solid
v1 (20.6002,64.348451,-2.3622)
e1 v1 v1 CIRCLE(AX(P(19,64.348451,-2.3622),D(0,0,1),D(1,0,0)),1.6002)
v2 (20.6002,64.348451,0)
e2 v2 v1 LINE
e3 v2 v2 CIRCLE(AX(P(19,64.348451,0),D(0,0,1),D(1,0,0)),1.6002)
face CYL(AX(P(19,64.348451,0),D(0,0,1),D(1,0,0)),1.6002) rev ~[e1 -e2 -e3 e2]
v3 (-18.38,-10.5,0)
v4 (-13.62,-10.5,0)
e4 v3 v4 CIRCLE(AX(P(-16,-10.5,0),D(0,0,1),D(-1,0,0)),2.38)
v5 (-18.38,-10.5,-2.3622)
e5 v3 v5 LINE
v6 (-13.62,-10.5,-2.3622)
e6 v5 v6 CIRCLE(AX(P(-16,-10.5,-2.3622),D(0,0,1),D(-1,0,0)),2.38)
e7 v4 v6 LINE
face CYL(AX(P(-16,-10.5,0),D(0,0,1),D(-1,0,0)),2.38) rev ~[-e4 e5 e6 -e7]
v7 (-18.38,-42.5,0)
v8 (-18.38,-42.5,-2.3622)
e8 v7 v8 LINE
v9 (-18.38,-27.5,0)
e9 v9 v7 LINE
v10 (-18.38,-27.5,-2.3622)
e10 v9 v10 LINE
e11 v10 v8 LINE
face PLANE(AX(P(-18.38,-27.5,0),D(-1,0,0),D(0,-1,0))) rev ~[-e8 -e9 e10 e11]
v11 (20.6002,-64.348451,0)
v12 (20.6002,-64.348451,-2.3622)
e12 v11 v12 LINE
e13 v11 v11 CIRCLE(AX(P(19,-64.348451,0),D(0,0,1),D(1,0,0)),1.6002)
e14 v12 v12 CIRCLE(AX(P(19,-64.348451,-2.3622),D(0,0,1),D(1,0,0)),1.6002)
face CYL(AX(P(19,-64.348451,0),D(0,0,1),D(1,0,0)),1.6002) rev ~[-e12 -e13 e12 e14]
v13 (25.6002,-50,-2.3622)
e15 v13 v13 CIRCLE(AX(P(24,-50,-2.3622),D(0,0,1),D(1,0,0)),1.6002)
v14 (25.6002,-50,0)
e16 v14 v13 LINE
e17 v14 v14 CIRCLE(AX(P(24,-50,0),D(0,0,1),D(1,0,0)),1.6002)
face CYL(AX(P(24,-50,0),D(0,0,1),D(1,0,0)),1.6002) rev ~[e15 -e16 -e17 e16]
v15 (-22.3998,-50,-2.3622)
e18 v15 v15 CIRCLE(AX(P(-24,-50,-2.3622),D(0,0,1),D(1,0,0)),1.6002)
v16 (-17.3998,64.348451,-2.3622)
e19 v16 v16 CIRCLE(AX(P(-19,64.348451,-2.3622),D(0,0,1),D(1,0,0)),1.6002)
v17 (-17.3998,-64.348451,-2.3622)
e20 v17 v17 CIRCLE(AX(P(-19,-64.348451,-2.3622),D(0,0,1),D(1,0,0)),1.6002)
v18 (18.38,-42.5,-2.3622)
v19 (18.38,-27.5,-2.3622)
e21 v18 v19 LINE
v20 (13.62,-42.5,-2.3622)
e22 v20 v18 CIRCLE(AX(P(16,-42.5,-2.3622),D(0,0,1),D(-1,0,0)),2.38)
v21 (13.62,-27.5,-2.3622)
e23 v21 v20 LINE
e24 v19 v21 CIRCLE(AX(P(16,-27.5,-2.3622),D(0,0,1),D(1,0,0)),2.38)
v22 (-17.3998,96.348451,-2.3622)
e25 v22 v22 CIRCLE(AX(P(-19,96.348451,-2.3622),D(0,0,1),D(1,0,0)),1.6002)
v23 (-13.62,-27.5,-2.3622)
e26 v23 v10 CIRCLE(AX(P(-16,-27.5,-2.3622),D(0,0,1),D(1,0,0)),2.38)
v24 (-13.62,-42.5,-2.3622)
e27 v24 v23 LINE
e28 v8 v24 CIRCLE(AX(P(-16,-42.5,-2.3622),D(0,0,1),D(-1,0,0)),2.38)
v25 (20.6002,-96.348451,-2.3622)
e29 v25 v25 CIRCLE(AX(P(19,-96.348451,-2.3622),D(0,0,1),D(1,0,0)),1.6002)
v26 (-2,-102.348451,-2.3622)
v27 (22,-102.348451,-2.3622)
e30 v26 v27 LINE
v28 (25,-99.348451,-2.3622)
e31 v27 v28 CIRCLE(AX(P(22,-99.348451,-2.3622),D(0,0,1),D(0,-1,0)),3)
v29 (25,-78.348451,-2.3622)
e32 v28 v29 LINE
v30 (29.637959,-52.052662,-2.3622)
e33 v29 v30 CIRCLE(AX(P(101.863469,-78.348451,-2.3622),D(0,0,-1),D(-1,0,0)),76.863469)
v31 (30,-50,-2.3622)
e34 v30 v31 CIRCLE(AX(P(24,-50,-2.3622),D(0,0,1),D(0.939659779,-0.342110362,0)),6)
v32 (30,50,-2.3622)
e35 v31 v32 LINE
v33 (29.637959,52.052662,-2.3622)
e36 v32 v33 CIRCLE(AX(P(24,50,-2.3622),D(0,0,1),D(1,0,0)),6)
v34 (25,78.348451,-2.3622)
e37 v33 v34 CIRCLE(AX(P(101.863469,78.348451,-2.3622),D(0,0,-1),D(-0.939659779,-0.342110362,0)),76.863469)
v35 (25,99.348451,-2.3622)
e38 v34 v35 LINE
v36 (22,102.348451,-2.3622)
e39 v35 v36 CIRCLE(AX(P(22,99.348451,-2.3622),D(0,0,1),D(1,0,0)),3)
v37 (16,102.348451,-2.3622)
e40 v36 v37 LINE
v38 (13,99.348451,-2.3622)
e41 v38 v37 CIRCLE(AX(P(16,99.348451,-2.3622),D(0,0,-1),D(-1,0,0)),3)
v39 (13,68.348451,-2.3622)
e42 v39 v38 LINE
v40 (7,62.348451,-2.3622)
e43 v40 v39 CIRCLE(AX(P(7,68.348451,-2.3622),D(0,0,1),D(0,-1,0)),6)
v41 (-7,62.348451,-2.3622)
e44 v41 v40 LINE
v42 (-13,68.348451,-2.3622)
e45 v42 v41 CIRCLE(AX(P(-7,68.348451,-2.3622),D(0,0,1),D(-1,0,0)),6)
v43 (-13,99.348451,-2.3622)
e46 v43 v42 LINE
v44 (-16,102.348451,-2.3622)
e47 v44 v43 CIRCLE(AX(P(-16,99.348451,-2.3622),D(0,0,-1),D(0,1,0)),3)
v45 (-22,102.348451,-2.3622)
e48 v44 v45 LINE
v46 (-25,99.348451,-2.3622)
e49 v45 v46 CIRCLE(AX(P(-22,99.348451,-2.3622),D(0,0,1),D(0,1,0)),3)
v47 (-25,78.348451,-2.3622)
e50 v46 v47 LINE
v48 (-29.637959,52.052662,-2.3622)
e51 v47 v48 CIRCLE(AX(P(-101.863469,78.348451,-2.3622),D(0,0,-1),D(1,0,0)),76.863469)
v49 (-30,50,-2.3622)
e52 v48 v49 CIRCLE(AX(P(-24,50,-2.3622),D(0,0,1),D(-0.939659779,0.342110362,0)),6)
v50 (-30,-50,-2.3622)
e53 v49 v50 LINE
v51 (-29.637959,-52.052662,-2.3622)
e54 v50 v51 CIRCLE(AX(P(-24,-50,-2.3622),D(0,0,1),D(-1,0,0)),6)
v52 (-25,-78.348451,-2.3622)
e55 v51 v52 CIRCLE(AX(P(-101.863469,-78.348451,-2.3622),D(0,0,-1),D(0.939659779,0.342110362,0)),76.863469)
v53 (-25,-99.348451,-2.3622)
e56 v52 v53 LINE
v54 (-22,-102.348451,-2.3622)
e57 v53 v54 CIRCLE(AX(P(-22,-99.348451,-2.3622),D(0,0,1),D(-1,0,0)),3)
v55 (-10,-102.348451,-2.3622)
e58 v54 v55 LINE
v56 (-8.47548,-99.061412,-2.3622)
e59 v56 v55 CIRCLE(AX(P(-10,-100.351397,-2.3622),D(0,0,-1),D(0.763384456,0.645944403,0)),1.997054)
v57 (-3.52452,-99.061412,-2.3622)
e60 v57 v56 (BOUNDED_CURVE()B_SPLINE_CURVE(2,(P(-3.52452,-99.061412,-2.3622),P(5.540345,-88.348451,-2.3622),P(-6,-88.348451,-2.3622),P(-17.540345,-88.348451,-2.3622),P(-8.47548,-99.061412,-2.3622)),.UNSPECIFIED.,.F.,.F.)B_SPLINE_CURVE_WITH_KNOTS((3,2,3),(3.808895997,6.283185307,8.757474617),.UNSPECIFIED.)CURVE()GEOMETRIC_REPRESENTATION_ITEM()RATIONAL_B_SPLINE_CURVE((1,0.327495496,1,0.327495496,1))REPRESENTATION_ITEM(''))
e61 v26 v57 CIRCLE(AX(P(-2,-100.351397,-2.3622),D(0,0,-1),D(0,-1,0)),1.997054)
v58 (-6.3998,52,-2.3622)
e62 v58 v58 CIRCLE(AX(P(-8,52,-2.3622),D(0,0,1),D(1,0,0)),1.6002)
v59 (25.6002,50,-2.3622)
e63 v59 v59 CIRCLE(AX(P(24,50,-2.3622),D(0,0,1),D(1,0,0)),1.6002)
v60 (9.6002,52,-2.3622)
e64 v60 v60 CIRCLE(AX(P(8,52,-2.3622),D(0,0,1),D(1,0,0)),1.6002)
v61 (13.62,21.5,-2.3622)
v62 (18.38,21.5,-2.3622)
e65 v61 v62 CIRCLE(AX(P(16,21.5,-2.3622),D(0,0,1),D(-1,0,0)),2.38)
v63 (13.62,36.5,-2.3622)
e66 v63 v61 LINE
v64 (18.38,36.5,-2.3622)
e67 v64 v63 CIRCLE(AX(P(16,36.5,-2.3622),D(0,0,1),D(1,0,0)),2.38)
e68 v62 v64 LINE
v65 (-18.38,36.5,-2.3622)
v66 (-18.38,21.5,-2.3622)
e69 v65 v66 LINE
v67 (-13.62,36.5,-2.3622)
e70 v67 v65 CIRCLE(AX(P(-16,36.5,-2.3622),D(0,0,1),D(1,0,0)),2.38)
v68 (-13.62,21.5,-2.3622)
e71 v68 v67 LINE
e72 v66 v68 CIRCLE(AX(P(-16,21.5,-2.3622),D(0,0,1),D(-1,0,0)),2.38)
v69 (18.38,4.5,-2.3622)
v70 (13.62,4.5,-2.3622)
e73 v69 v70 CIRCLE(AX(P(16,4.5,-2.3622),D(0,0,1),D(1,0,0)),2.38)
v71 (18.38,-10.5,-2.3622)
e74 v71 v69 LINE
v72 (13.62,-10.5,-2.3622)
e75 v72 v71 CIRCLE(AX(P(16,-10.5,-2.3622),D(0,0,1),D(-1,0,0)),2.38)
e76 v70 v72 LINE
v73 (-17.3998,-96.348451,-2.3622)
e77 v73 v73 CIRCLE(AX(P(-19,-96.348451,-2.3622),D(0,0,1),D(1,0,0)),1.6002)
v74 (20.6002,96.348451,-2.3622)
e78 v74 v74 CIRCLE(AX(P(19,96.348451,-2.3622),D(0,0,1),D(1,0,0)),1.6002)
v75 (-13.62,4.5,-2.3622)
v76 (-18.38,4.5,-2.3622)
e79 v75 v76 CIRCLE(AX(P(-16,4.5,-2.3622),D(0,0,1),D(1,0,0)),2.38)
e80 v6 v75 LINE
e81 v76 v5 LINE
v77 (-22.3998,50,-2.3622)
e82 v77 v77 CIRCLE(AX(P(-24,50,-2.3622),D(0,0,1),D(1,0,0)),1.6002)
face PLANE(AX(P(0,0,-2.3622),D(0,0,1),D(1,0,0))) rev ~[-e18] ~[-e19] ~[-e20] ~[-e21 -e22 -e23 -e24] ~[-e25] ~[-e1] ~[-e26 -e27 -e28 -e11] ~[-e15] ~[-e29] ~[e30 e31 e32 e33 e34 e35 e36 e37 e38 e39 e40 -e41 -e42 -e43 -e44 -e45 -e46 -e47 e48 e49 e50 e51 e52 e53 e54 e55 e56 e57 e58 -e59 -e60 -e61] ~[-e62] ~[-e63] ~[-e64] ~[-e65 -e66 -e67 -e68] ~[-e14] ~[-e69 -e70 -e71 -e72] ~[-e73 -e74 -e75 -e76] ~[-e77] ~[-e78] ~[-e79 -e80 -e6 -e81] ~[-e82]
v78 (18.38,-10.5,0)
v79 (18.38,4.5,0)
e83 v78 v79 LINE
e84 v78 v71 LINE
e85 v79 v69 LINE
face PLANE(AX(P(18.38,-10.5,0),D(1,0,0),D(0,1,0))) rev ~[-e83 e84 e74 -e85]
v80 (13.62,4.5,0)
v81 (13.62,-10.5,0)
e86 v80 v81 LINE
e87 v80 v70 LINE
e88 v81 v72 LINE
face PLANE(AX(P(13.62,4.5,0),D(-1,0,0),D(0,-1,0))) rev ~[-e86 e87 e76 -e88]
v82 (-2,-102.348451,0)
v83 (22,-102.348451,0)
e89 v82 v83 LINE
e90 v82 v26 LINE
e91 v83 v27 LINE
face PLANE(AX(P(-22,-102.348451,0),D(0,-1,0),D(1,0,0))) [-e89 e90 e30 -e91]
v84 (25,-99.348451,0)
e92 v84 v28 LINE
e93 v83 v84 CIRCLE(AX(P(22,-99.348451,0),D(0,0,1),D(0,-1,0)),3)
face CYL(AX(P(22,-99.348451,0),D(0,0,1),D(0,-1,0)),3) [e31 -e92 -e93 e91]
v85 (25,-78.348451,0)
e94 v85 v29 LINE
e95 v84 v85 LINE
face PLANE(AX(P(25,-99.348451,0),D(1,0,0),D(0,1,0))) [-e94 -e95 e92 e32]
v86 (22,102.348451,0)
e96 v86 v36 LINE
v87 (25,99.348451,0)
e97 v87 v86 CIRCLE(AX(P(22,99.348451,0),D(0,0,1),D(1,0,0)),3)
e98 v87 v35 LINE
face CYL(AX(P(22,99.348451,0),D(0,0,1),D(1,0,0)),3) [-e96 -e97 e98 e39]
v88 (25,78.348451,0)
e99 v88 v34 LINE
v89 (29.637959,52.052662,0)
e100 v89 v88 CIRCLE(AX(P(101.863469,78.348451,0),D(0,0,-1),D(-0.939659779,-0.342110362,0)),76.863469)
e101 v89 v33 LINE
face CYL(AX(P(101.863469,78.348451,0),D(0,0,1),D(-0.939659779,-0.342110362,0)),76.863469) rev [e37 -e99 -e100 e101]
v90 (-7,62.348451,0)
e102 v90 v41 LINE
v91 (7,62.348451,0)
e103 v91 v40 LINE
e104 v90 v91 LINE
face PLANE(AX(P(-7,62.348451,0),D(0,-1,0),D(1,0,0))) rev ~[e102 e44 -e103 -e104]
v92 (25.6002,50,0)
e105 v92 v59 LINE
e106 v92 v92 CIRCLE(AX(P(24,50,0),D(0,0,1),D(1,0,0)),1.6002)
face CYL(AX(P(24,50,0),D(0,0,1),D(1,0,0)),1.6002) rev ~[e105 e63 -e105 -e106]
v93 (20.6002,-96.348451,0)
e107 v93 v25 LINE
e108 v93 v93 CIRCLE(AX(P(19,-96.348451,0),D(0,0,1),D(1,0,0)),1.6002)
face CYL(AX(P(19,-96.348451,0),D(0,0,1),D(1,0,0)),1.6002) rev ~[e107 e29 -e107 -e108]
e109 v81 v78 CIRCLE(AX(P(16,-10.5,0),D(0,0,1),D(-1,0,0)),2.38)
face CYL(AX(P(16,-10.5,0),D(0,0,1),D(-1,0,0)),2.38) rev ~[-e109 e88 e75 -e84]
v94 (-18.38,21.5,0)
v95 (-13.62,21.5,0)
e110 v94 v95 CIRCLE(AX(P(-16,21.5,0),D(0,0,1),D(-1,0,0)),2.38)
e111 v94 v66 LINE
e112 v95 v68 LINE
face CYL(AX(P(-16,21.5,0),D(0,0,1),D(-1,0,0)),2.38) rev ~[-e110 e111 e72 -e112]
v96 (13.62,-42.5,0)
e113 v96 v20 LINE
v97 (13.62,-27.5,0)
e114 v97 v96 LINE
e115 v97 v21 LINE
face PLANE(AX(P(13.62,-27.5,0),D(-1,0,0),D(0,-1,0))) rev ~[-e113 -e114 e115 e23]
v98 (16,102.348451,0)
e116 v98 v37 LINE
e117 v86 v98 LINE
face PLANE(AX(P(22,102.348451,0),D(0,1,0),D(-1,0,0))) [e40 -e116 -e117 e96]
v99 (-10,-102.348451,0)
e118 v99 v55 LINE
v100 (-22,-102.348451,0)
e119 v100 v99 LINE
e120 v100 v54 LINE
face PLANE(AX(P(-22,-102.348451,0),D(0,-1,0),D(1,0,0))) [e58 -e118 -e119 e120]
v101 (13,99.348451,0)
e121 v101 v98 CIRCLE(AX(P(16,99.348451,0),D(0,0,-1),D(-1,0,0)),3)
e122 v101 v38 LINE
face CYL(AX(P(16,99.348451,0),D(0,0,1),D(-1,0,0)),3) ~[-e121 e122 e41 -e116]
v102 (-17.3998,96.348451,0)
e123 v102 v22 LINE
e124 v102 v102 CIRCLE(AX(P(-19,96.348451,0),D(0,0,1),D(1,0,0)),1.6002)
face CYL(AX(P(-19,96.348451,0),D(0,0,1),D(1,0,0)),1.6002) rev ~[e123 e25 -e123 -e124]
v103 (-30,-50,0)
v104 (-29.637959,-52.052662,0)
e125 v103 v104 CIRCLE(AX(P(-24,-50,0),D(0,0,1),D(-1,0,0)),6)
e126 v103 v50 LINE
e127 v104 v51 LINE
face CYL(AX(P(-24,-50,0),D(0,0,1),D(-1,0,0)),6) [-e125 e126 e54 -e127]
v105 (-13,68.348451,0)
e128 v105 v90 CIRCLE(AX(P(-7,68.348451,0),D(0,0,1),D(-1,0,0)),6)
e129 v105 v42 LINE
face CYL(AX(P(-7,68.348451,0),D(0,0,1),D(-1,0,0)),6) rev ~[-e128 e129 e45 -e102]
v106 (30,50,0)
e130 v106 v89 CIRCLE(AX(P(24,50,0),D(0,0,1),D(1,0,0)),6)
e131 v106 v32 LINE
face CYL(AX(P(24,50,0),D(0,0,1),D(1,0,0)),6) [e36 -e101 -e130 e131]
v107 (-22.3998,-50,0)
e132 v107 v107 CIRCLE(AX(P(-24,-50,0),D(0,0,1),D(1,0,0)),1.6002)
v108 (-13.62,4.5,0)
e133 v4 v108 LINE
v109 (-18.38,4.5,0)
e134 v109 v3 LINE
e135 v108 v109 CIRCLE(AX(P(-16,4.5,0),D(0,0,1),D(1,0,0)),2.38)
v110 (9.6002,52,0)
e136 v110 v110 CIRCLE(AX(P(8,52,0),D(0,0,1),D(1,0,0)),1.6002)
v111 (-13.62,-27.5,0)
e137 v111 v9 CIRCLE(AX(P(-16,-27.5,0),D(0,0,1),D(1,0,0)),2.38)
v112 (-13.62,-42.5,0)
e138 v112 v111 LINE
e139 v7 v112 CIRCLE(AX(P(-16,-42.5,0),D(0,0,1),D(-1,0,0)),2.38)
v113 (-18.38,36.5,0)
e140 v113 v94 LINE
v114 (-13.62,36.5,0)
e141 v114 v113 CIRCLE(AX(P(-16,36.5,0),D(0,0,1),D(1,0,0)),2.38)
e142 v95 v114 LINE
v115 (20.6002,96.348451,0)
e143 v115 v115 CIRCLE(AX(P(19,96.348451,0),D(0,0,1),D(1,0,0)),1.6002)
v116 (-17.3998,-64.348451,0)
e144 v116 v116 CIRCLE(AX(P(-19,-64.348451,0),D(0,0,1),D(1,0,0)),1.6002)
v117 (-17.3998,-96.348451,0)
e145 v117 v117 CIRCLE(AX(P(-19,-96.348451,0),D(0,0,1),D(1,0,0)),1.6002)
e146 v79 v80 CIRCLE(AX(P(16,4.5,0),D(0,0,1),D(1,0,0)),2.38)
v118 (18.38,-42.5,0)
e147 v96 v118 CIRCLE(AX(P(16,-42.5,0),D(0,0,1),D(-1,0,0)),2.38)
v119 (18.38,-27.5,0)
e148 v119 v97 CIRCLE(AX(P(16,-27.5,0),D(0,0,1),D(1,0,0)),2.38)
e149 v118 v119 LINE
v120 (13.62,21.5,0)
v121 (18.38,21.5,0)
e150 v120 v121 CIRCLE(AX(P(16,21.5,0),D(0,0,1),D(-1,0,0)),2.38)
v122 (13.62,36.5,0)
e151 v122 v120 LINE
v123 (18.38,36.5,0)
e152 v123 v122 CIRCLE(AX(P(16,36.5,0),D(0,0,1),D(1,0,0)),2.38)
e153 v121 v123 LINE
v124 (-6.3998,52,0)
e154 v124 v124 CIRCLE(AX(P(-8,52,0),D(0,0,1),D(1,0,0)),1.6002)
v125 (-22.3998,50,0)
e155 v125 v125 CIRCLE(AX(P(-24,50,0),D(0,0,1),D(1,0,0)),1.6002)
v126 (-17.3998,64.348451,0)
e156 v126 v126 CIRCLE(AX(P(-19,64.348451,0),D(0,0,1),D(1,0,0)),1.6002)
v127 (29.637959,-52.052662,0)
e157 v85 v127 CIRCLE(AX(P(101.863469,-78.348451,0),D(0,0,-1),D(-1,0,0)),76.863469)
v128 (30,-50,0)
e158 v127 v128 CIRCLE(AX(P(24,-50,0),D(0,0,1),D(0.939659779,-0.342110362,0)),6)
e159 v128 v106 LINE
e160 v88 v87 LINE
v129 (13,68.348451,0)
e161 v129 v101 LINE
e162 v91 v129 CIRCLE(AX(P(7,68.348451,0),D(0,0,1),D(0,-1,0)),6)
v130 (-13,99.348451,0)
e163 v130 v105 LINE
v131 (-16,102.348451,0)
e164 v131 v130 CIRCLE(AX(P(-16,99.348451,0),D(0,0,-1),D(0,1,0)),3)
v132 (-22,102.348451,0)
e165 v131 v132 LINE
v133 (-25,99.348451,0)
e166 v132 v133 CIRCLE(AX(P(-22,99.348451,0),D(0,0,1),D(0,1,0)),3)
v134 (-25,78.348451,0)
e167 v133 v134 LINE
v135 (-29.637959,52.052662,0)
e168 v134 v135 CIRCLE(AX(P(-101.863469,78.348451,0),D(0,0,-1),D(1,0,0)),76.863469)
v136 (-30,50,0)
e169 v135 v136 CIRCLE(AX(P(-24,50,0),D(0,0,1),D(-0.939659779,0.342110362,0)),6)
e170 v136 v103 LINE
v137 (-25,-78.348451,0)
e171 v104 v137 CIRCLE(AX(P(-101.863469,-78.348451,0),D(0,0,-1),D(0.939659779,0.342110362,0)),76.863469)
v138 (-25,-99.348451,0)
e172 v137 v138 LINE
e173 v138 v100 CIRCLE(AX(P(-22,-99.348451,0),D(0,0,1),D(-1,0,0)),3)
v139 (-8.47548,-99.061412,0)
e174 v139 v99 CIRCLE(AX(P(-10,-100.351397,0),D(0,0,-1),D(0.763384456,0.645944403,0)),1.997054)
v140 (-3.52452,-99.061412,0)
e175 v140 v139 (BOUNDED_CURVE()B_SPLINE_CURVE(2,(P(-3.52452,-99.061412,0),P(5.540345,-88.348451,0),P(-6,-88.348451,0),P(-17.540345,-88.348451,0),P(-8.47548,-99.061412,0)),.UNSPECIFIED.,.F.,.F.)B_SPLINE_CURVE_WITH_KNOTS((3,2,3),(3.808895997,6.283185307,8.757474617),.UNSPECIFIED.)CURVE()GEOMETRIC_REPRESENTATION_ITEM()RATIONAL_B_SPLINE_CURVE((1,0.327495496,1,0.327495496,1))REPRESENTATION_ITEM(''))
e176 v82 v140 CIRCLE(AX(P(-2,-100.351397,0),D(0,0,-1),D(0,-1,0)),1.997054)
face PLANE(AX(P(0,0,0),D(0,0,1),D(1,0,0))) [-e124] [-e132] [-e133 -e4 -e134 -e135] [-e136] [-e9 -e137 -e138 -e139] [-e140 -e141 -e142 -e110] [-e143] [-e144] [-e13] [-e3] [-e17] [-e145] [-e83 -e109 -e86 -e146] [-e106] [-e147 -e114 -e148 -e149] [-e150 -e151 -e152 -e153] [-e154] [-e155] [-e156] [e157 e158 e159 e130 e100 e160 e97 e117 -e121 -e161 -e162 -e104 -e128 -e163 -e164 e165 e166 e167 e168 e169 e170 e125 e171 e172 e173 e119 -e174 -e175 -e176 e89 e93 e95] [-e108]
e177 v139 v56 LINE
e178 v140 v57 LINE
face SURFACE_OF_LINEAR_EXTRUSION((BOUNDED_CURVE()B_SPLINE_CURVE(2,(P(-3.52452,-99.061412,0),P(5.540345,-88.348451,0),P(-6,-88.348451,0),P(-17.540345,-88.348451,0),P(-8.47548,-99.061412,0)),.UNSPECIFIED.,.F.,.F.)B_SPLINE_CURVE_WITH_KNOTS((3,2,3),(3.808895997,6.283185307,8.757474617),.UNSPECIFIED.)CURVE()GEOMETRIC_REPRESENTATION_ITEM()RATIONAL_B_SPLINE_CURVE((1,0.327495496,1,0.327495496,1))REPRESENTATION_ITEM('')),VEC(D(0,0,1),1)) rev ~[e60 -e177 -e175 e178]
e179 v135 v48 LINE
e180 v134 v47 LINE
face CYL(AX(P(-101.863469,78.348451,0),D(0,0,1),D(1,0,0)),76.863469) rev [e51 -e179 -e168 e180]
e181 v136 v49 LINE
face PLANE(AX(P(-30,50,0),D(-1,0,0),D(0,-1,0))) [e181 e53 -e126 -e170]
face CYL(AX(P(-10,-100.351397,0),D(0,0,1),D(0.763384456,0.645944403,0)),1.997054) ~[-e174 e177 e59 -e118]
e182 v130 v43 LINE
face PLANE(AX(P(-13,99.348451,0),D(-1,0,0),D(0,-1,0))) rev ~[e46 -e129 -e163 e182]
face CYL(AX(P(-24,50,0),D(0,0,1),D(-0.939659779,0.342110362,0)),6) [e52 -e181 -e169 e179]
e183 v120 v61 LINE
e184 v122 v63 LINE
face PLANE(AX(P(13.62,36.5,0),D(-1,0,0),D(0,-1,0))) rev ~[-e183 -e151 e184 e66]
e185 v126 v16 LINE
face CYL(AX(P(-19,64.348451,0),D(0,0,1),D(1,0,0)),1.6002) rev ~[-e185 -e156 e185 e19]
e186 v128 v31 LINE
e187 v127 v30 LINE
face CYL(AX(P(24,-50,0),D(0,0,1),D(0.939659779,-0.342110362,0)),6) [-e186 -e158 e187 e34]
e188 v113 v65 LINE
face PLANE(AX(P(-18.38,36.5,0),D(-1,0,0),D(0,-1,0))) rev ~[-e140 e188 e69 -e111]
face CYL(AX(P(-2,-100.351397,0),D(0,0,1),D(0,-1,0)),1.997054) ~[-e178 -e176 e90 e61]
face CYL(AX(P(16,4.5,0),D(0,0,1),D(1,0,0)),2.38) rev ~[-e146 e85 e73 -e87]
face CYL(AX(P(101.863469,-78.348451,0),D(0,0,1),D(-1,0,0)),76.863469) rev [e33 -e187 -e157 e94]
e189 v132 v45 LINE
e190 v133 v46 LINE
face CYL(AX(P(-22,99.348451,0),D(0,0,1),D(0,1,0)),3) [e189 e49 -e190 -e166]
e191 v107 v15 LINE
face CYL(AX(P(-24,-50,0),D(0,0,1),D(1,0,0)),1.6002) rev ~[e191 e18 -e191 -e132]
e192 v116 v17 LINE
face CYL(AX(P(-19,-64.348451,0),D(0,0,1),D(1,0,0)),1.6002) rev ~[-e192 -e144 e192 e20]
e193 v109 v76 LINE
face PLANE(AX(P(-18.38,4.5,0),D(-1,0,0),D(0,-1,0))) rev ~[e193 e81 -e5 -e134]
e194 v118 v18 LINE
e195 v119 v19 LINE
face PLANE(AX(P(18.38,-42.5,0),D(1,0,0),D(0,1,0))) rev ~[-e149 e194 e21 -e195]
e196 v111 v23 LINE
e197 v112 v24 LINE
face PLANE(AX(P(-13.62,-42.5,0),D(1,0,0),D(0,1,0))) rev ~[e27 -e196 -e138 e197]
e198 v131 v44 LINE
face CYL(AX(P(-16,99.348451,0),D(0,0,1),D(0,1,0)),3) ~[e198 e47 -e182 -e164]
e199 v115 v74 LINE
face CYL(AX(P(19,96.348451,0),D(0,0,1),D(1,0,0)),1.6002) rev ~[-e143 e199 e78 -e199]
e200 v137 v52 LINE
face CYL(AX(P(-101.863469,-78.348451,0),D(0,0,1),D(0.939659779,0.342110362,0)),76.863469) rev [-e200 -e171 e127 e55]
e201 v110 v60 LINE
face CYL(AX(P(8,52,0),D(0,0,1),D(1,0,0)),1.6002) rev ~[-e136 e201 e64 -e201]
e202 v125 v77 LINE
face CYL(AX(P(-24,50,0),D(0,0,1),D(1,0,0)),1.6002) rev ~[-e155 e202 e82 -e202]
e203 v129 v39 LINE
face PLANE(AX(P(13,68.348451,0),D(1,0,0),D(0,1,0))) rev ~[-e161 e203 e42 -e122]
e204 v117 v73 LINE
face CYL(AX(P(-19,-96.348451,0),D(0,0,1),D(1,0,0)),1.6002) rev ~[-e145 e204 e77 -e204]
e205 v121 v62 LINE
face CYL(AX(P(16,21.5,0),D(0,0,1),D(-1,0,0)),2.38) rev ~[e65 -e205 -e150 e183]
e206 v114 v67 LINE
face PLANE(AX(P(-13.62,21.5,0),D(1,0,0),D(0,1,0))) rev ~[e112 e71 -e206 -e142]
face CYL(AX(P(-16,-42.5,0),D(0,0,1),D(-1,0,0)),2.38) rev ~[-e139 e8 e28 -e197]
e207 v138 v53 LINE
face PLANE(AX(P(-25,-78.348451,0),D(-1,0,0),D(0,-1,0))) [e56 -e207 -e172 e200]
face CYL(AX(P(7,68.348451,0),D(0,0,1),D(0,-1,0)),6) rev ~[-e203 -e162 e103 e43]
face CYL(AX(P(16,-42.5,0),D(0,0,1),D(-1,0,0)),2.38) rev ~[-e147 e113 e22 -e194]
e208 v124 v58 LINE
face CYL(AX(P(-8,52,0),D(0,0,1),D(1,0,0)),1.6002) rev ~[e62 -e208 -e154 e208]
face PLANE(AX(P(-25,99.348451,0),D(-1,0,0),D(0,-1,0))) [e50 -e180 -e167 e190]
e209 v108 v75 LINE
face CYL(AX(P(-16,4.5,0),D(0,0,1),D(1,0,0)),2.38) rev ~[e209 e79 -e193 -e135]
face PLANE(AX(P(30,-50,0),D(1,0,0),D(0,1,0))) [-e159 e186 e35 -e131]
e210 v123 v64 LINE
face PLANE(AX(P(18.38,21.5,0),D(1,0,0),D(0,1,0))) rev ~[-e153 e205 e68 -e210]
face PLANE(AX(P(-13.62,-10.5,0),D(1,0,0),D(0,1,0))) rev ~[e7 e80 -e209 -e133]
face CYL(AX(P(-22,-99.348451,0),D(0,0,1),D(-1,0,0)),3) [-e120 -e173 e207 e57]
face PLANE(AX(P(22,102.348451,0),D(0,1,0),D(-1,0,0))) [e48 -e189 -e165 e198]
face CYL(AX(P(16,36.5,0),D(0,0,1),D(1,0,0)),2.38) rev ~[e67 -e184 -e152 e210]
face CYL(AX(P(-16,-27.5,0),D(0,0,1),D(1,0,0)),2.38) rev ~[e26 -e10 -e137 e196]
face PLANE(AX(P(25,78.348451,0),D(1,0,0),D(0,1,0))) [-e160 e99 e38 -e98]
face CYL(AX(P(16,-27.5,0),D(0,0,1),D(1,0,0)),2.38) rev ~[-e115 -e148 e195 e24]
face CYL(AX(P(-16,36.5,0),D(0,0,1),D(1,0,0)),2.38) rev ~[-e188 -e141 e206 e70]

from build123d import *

# Parameters (mm, degrees)
F1_DEPTH  = 2.3622
F2_R      = 1.6002
F3_DEPTH  = 2.3632
F5_DEPTH  = 25
F7_DEPTH  = 25
F9_DEPTH  = 4
F12_DEPTH = 4
F13_R     = 1.5
F14_DEPTH = 8
F18_DEPTH = 2.3622
F20_DEPTH = 2.3622


with BuildPart() as f1:
    # F0 (on Top) → F1 (new body)
    with BuildSketch(Plane.XY):
        with BuildLine():
            Line((22, 102.3484512108), (0, 102.3484512108))
            Line((0, 102.3484512108), (-22, 102.3484512108))
            ThreePointArc((-22, 102.3484512108), (-24.1213203436, 101.4697715544), (-25, 99.3484512108))
            Line((-25, 99.3484512108), (-25, 78.3484512108))
            ThreePointArc((-25, 78.3484512108), (-26.168369619, 64.9976161999), (-29.6379586746, 52.0526621698))
            ThreePointArc((-29.6379586746, 52.0526621698), (-29.9087964954, 51.042172719), (-30, 50))
            Line((-30, 50), (-30, -50))
            ThreePointArc((-30, -50), (-29.9087964954, -51.042172719), (-29.6379586746, -52.0526621698))
            ThreePointArc((-29.6379586746, -52.0526621698), (-26.168369619, -64.9976161999), (-25, -78.3484512108))
            Line((-25, -78.3484512108), (-25, -99.3484512108))
            ThreePointArc((-25, -99.3484512108), (-24.1213203436, -101.4697715544), (-22, -102.3484512108))
            Line((-22, -102.3484512108), (0, -102.3484512108))
            Line((0, -102.3484512108), (22, -102.3484512108))
            ThreePointArc((22, -102.3484512108), (24.1213203436, -101.4697715544), (25, -99.3484512108))
            Line((25, -99.3484512108), (25, -78.3484512108))
            ThreePointArc((25, -78.3484512108), (26.168369619, -64.9976161999), (29.6379586746, -52.0526621698))
            ThreePointArc((29.6379586746, -52.0526621698), (29.9087964954, -51.042172719), (30, -50))
            Line((30, -50), (30, 50))
            ThreePointArc((30, 50), (29.9087964954, 51.042172719), (29.6379586746, 52.0526621698))
            ThreePointArc((29.6379586746, 52.0526621698), (26.168369619, 64.9976161999), (25, 78.3484512108))
            Line((25, 78.3484512108), (25, 99.3484512108))
            ThreePointArc((25, 99.3484512108), (24.1213203436, 101.4697715544), (22, 102.3484512108))
        make_face()
    extrude(amount=-F1_DEPTH)

    # F2 (on face) → F3 (cut, through all)
    with BuildSketch(Plane.XY):
        with Locations((-19, 96.3484512108)):
            Circle(F2_R)
        with Locations((-19, 64.3484512108)):
            Circle(F2_R)
        with Locations((-19, -96.3484512108)):
            Circle(F2_R)
        with Locations((-19, -64.3484512108)):
            Circle(F2_R)
        with Locations((-24, -50)):
            Circle(F2_R)
        with Locations((-24, 50)):
            Circle(F2_R)
        with Locations((19, 96.3484512108)):
            Circle(F2_R)
        with Locations((19, 64.3484512108)):
            Circle(F2_R)
        with Locations((24, 50)):
            Circle(F2_R)
        with Locations((24, -50)):
            Circle(F2_R)
        with Locations((19, -64.3484512108)):
            Circle(F2_R)
        with Locations((19, -96.3484512108)):
            Circle(F2_R)
        with BuildLine():
            ThreePointArc((-18.38, -42.5), (-16, -44.88), (-13.62, -42.5))
            Line((-13.62, -42.5), (-13.62, -27.5))
            ThreePointArc((-13.62, -27.5), (-16, -25.12), (-18.38, -27.5))
            Line((-18.38, -27.5), (-18.38, -42.5))
        make_face()
        with BuildLine():
            Line((-18.38, 4.5), (-18.38, -10.5))
            ThreePointArc((-18.38, -10.5), (-16, -12.88), (-13.62, -10.5))
            Line((-13.62, -10.5), (-13.62, 4.5))
            ThreePointArc((-13.62, 4.5), (-16, 6.88), (-18.38, 4.5))
        make_face()
        with BuildLine():
            Line((-18.38, 36.5), (-18.38, 21.5))
            ThreePointArc((-18.38, 21.5), (-16, 19.12), (-13.62, 21.5))
            Line((-13.62, 21.5), (-13.62, 36.5))
            ThreePointArc((-13.62, 36.5), (-16, 38.88), (-18.38, 36.5))
        make_face()
        with BuildLine():
            Line((13.62, -27.5), (13.62, -42.5))
            ThreePointArc((13.62, -42.5), (16, -44.88), (18.38, -42.5))
            Line((18.38, -42.5), (18.38, -27.5))
            ThreePointArc((18.38, -27.5), (16, -25.12), (13.62, -27.5))
        make_face()
        with BuildLine():
            Line((13.62, 4.5), (13.62, -10.5))
            ThreePointArc((13.62, -10.5), (16, -12.88), (18.38, -10.5))
            Line((18.38, -10.5), (18.38, 4.5))
            ThreePointArc((18.38, 4.5), (16, 6.88), (13.62, 4.5))
        make_face()
        with BuildLine():
            Line((13.62, 36.5), (13.62, 21.5))
            ThreePointArc((13.62, 21.5), (16, 19.12), (18.38, 21.5))
            Line((18.38, 21.5), (18.38, 36.5))
            ThreePointArc((18.38, 36.5), (16, 38.88), (13.62, 36.5))
        make_face()
        with Locations((-8, 52)):
            Circle(F2_R)
        with Locations((8, 52)):
            Circle(F2_R)
    extrude(amount=-F3_DEPTH, mode=Mode.SUBTRACT)

    # F17 (on face) → F18 (cut, through all)
    with BuildSketch(Plane.XY):
        with BuildLine():
            Line((-7, 62.3484512108), (0, 62.3484512108))
            Line((0, 62.3484512108), (7, 62.3484512108))
            ThreePointArc((7, 62.3484512108), (11.2426406871, 64.1058105237), (13, 68.3484512108))
            Line((13, 68.3484512108), (13, 99.3484512108))
            ThreePointArc((13, 99.3484512108), (13.8786796564, 101.4697715544), (16, 102.3484512108))
            Line((16, 102.3484512108), (16, 105.3484512108))
            Line((16, 105.3484512108), (0, 105.3484512108))
            Line((0, 105.3484512108), (-16, 105.3484512108))
            Line((-16, 105.3484512108), (-16, 102.3484512108))
            ThreePointArc((-16, 102.3484512108), (-13.8786796564, 101.4697715544), (-13, 99.3484512108))
            Line((-13, 99.3484512108), (-13, 68.3484512108))
            ThreePointArc((-13, 68.3484512108), (-11.2426406871, 64.1058105237), (-7, 62.3484512108))
        make_face()
    extrude(amount=-F18_DEPTH, mode=Mode.SUBTRACT)

    # F19 (on face) → F20 (cut, through all)
    with BuildSketch(Plane.XY):
        with BuildLine():
            ThreePointArc((-2, -102.3484512108), (-3.81168362, -101.1916512107), (-3.5245198646, -99.0614116099))
            add(Edge.make_bspline(
                [(-3.5245198646, -99.0614116099), (5.5403448359, -88.3484512108), (-6, -88.3484512108), (-17.5403448359, -88.3484512108), (-8.4754801354, -99.0614116099)],
                knots=[3.808895997, 3.808895997, 3.808895997, 6.2831853072, 6.2831853072, 8.7574746173, 8.7574746173, 8.7574746173], degree=2, weights=[1, 0.3274954963, 1, 0.3274954963, 1]))
            ThreePointArc((-8.4754801354, -99.0614116099), (-8.18831638, -101.1916512107), (-10, -102.3484512108))
            Line((-10, -102.3484512108), (-10, -103.3484512108))
            Line((-10, -103.3484512108), (-2, -103.3484512108))
            Line((-2, -103.3484512108), (-2, -102.3484512108))
        make_face()
    extrude(amount=-F20_DEPTH, mode=Mode.SUBTRACT)


with BuildPart() as f5:
    # F4 (on Top) → F5 (new body)
    with BuildSketch(Plane.XY):
        with BuildLine():
            ThreePointArc((-22, 41.05572809), (-21.4772255751, 43.5052178328), (-20, 45.527864045))
            ThreePointArc((-20, 45.527864045), (-24, 56), (-28, 45.527864045))
            ThreePointArc((-28, 45.527864045), (-26.5227744249, 43.5052178328), (-26, 41.05572809))
            Line((-26, 41.05572809), (-26, -41.05572809))
            ThreePointArc((-26, -41.05572809), (-26.5227744249, -43.5052178328), (-28, -45.527864045))
            ThreePointArc((-28, -45.527864045), (-24, -56), (-20, -45.527864045))
            ThreePointArc((-20, -45.527864045), (-21.4772255751, -43.5052178328), (-22, -41.05572809))
            Line((-22, -41.05572809), (-22, 41.05572809))
        make_face()
    extrude(amount=F5_DEPTH)

    # F6 (on face) → F7 (cut, through all)
    with BuildSketch(Plane(origin=(0, 0, 0), x_dir=(1, 0, 0), z_dir=(0, 0, -1))):
        Polygon((-24, -46.4781633579), (-27.05, -48.239081679), (-27.05, -51.760918321), (-24, -53.5218366421), (-20.95, -51.760918321), (-20.95, -48.239081679), align=None)
        Polygon((-24, 53.5218366421), (-27.05, 51.760918321), (-27.05, 48.239081679), (-24, 46.4781633579), (-20.95, 48.239081679), (-20.95, 51.760918321), align=None)
    extrude(amount=-F7_DEPTH, mode=Mode.SUBTRACT)

    # F8 (on face) → F9 (cut, through all)
    with BuildSketch(Plane(origin=(-26, 0, 0), x_dir=(0, -1, 0), z_dir=(-1, 0, 0))):
        with BuildLine():
            ThreePointArc((-10.25, 16.5), (-10.5428932188, 17.2071067812), (-11.25, 17.5))
            Line((-11.25, 17.5), (-19.25, 17.5))
            ThreePointArc((-19.25, 17.5), (-19.9571067812, 17.2071067812), (-20.25, 16.5))
            Line((-20.25, 16.5), (-20.25, 8.5))
            ThreePointArc((-20.25, 8.5), (-19.9571067812, 7.7928932188), (-19.25, 7.5))
            Line((-19.25, 7.5), (-11.25, 7.5))
            ThreePointArc((-11.25, 7.5), (-10.5428932188, 7.7928932188), (-10.25, 8.5))
            Line((-10.25, 8.5), (-10.25, 16.5))
        make_face()
        with BuildLine():
            Line((-7.5, 2.5), (-7.5, 0))
            Line((-7.5, 0), (7.5, 0))
            Line((7.5, 0), (7.5, 2.5))
            ThreePointArc((7.5, 2.5), (7.2071067812, 3.2071067812), (6.5, 3.5))
            Line((6.5, 3.5), (-6.5, 3.5))
            ThreePointArc((-6.5, 3.5), (-7.2071067812, 3.2071067812), (-7.5, 2.5))
        make_face()
        with BuildLine():
            Line((-23, 25), (-27, 25))
            ThreePointArc((-27, 25), (-25, 23), (-23, 25))
        make_face()
        with BuildLine():
            Line((-27, 0), (-23, 0))
            ThreePointArc((-23, 0), (-25, 2), (-27, 0))
        make_face()
        with BuildLine():
            ThreePointArc((10.25, 8.5), (10.5428932188, 7.7928932188), (11.25, 7.5))
            Line((11.25, 7.5), (19.25, 7.5))
            ThreePointArc((19.25, 7.5), (19.9571067812, 7.7928932188), (20.25, 8.5))
            Line((20.25, 8.5), (20.25, 16.5))
            ThreePointArc((20.25, 16.5), (19.9571067812, 17.2071067812), (19.25, 17.5))
            Line((19.25, 17.5), (11.25, 17.5))
            ThreePointArc((11.25, 17.5), (10.5428932188, 17.2071067812), (10.25, 16.5))
            Line((10.25, 16.5), (10.25, 8.5))
        make_face()
        with BuildLine():
            ThreePointArc((23, 25), (25, 23), (27, 25))
            Line((27, 25), (23, 25))
        make_face()
        with BuildLine():
            Line((23, 0), (27, 0))
            ThreePointArc((27, 0), (25, 2), (23, 0))
        make_face()
        with BuildLine():
            ThreePointArc((-7.5, 22.5), (-7.2071067812, 21.7928932188), (-6.5, 21.5))
            Line((-6.5, 21.5), (6.5, 21.5))
            ThreePointArc((6.5, 21.5), (7.2071067812, 21.7928932188), (7.5, 22.5))
            Line((7.5, 22.5), (7.5, 25))
            Line((7.5, 25), (-7.5, 25))
            Line((-7.5, 25), (-7.5, 22.5))
        make_face()
    extrude(amount=-F9_DEPTH, mode=Mode.SUBTRACT)


with BuildPart() as f12:
    # F11 (on offset) → F12 (new body, symmetric)
    with BuildSketch(Plane.XY.offset(12.5)):
        with BuildLine():
            Line((-26.25, 19.75), (-26.25, 21.25))
            Line((-26.25, 21.25), (-27.75, 21.25))
            Line((-27.75, 21.25), (-27.75, 15.25))
            Line((-27.75, 15.25), (-27.75, 9.25))
            Line((-27.75, 9.25), (-26.25, 9.25))
            Line((-26.25, 9.25), (-26.25, 10.75))
            ThreePointArc((-26.25, 10.75), (-26.1035533906, 11.1035533906), (-25.75, 11.25))
            Line((-25.75, 11.25), (-19.25, 11.25))
            Line((-19.25, 11.25), (-18.25, 12.25))
            Line((-18.25, 12.25), (-15.25, 12.25))
            ThreePointArc((-15.25, 12.25), (-13.1286796564, 13.1286796564), (-12.25, 15.25))
            ThreePointArc((-12.25, 15.25), (-13.1286796564, 17.3713203436), (-15.25, 18.25))
            Line((-15.25, 18.25), (-18.25, 18.25))
            Line((-18.25, 18.25), (-19.25, 19.25))
            Line((-19.25, 19.25), (-25.75, 19.25))
            ThreePointArc((-25.75, 19.25), (-26.1035533906, 19.3964466094), (-26.25, 19.75))
        make_face()
    extrude(amount=F12_DEPTH, both=True)

    # F13 (on face) → F14 (cut, through all)
    with BuildSketch(Plane.XY.offset(16.5)):
        with Locations((-15.25, 15.25)):
            Circle(F13_R)
    extrude(amount=-F14_DEPTH, mode=Mode.SUBTRACT)


solid = f1.part
